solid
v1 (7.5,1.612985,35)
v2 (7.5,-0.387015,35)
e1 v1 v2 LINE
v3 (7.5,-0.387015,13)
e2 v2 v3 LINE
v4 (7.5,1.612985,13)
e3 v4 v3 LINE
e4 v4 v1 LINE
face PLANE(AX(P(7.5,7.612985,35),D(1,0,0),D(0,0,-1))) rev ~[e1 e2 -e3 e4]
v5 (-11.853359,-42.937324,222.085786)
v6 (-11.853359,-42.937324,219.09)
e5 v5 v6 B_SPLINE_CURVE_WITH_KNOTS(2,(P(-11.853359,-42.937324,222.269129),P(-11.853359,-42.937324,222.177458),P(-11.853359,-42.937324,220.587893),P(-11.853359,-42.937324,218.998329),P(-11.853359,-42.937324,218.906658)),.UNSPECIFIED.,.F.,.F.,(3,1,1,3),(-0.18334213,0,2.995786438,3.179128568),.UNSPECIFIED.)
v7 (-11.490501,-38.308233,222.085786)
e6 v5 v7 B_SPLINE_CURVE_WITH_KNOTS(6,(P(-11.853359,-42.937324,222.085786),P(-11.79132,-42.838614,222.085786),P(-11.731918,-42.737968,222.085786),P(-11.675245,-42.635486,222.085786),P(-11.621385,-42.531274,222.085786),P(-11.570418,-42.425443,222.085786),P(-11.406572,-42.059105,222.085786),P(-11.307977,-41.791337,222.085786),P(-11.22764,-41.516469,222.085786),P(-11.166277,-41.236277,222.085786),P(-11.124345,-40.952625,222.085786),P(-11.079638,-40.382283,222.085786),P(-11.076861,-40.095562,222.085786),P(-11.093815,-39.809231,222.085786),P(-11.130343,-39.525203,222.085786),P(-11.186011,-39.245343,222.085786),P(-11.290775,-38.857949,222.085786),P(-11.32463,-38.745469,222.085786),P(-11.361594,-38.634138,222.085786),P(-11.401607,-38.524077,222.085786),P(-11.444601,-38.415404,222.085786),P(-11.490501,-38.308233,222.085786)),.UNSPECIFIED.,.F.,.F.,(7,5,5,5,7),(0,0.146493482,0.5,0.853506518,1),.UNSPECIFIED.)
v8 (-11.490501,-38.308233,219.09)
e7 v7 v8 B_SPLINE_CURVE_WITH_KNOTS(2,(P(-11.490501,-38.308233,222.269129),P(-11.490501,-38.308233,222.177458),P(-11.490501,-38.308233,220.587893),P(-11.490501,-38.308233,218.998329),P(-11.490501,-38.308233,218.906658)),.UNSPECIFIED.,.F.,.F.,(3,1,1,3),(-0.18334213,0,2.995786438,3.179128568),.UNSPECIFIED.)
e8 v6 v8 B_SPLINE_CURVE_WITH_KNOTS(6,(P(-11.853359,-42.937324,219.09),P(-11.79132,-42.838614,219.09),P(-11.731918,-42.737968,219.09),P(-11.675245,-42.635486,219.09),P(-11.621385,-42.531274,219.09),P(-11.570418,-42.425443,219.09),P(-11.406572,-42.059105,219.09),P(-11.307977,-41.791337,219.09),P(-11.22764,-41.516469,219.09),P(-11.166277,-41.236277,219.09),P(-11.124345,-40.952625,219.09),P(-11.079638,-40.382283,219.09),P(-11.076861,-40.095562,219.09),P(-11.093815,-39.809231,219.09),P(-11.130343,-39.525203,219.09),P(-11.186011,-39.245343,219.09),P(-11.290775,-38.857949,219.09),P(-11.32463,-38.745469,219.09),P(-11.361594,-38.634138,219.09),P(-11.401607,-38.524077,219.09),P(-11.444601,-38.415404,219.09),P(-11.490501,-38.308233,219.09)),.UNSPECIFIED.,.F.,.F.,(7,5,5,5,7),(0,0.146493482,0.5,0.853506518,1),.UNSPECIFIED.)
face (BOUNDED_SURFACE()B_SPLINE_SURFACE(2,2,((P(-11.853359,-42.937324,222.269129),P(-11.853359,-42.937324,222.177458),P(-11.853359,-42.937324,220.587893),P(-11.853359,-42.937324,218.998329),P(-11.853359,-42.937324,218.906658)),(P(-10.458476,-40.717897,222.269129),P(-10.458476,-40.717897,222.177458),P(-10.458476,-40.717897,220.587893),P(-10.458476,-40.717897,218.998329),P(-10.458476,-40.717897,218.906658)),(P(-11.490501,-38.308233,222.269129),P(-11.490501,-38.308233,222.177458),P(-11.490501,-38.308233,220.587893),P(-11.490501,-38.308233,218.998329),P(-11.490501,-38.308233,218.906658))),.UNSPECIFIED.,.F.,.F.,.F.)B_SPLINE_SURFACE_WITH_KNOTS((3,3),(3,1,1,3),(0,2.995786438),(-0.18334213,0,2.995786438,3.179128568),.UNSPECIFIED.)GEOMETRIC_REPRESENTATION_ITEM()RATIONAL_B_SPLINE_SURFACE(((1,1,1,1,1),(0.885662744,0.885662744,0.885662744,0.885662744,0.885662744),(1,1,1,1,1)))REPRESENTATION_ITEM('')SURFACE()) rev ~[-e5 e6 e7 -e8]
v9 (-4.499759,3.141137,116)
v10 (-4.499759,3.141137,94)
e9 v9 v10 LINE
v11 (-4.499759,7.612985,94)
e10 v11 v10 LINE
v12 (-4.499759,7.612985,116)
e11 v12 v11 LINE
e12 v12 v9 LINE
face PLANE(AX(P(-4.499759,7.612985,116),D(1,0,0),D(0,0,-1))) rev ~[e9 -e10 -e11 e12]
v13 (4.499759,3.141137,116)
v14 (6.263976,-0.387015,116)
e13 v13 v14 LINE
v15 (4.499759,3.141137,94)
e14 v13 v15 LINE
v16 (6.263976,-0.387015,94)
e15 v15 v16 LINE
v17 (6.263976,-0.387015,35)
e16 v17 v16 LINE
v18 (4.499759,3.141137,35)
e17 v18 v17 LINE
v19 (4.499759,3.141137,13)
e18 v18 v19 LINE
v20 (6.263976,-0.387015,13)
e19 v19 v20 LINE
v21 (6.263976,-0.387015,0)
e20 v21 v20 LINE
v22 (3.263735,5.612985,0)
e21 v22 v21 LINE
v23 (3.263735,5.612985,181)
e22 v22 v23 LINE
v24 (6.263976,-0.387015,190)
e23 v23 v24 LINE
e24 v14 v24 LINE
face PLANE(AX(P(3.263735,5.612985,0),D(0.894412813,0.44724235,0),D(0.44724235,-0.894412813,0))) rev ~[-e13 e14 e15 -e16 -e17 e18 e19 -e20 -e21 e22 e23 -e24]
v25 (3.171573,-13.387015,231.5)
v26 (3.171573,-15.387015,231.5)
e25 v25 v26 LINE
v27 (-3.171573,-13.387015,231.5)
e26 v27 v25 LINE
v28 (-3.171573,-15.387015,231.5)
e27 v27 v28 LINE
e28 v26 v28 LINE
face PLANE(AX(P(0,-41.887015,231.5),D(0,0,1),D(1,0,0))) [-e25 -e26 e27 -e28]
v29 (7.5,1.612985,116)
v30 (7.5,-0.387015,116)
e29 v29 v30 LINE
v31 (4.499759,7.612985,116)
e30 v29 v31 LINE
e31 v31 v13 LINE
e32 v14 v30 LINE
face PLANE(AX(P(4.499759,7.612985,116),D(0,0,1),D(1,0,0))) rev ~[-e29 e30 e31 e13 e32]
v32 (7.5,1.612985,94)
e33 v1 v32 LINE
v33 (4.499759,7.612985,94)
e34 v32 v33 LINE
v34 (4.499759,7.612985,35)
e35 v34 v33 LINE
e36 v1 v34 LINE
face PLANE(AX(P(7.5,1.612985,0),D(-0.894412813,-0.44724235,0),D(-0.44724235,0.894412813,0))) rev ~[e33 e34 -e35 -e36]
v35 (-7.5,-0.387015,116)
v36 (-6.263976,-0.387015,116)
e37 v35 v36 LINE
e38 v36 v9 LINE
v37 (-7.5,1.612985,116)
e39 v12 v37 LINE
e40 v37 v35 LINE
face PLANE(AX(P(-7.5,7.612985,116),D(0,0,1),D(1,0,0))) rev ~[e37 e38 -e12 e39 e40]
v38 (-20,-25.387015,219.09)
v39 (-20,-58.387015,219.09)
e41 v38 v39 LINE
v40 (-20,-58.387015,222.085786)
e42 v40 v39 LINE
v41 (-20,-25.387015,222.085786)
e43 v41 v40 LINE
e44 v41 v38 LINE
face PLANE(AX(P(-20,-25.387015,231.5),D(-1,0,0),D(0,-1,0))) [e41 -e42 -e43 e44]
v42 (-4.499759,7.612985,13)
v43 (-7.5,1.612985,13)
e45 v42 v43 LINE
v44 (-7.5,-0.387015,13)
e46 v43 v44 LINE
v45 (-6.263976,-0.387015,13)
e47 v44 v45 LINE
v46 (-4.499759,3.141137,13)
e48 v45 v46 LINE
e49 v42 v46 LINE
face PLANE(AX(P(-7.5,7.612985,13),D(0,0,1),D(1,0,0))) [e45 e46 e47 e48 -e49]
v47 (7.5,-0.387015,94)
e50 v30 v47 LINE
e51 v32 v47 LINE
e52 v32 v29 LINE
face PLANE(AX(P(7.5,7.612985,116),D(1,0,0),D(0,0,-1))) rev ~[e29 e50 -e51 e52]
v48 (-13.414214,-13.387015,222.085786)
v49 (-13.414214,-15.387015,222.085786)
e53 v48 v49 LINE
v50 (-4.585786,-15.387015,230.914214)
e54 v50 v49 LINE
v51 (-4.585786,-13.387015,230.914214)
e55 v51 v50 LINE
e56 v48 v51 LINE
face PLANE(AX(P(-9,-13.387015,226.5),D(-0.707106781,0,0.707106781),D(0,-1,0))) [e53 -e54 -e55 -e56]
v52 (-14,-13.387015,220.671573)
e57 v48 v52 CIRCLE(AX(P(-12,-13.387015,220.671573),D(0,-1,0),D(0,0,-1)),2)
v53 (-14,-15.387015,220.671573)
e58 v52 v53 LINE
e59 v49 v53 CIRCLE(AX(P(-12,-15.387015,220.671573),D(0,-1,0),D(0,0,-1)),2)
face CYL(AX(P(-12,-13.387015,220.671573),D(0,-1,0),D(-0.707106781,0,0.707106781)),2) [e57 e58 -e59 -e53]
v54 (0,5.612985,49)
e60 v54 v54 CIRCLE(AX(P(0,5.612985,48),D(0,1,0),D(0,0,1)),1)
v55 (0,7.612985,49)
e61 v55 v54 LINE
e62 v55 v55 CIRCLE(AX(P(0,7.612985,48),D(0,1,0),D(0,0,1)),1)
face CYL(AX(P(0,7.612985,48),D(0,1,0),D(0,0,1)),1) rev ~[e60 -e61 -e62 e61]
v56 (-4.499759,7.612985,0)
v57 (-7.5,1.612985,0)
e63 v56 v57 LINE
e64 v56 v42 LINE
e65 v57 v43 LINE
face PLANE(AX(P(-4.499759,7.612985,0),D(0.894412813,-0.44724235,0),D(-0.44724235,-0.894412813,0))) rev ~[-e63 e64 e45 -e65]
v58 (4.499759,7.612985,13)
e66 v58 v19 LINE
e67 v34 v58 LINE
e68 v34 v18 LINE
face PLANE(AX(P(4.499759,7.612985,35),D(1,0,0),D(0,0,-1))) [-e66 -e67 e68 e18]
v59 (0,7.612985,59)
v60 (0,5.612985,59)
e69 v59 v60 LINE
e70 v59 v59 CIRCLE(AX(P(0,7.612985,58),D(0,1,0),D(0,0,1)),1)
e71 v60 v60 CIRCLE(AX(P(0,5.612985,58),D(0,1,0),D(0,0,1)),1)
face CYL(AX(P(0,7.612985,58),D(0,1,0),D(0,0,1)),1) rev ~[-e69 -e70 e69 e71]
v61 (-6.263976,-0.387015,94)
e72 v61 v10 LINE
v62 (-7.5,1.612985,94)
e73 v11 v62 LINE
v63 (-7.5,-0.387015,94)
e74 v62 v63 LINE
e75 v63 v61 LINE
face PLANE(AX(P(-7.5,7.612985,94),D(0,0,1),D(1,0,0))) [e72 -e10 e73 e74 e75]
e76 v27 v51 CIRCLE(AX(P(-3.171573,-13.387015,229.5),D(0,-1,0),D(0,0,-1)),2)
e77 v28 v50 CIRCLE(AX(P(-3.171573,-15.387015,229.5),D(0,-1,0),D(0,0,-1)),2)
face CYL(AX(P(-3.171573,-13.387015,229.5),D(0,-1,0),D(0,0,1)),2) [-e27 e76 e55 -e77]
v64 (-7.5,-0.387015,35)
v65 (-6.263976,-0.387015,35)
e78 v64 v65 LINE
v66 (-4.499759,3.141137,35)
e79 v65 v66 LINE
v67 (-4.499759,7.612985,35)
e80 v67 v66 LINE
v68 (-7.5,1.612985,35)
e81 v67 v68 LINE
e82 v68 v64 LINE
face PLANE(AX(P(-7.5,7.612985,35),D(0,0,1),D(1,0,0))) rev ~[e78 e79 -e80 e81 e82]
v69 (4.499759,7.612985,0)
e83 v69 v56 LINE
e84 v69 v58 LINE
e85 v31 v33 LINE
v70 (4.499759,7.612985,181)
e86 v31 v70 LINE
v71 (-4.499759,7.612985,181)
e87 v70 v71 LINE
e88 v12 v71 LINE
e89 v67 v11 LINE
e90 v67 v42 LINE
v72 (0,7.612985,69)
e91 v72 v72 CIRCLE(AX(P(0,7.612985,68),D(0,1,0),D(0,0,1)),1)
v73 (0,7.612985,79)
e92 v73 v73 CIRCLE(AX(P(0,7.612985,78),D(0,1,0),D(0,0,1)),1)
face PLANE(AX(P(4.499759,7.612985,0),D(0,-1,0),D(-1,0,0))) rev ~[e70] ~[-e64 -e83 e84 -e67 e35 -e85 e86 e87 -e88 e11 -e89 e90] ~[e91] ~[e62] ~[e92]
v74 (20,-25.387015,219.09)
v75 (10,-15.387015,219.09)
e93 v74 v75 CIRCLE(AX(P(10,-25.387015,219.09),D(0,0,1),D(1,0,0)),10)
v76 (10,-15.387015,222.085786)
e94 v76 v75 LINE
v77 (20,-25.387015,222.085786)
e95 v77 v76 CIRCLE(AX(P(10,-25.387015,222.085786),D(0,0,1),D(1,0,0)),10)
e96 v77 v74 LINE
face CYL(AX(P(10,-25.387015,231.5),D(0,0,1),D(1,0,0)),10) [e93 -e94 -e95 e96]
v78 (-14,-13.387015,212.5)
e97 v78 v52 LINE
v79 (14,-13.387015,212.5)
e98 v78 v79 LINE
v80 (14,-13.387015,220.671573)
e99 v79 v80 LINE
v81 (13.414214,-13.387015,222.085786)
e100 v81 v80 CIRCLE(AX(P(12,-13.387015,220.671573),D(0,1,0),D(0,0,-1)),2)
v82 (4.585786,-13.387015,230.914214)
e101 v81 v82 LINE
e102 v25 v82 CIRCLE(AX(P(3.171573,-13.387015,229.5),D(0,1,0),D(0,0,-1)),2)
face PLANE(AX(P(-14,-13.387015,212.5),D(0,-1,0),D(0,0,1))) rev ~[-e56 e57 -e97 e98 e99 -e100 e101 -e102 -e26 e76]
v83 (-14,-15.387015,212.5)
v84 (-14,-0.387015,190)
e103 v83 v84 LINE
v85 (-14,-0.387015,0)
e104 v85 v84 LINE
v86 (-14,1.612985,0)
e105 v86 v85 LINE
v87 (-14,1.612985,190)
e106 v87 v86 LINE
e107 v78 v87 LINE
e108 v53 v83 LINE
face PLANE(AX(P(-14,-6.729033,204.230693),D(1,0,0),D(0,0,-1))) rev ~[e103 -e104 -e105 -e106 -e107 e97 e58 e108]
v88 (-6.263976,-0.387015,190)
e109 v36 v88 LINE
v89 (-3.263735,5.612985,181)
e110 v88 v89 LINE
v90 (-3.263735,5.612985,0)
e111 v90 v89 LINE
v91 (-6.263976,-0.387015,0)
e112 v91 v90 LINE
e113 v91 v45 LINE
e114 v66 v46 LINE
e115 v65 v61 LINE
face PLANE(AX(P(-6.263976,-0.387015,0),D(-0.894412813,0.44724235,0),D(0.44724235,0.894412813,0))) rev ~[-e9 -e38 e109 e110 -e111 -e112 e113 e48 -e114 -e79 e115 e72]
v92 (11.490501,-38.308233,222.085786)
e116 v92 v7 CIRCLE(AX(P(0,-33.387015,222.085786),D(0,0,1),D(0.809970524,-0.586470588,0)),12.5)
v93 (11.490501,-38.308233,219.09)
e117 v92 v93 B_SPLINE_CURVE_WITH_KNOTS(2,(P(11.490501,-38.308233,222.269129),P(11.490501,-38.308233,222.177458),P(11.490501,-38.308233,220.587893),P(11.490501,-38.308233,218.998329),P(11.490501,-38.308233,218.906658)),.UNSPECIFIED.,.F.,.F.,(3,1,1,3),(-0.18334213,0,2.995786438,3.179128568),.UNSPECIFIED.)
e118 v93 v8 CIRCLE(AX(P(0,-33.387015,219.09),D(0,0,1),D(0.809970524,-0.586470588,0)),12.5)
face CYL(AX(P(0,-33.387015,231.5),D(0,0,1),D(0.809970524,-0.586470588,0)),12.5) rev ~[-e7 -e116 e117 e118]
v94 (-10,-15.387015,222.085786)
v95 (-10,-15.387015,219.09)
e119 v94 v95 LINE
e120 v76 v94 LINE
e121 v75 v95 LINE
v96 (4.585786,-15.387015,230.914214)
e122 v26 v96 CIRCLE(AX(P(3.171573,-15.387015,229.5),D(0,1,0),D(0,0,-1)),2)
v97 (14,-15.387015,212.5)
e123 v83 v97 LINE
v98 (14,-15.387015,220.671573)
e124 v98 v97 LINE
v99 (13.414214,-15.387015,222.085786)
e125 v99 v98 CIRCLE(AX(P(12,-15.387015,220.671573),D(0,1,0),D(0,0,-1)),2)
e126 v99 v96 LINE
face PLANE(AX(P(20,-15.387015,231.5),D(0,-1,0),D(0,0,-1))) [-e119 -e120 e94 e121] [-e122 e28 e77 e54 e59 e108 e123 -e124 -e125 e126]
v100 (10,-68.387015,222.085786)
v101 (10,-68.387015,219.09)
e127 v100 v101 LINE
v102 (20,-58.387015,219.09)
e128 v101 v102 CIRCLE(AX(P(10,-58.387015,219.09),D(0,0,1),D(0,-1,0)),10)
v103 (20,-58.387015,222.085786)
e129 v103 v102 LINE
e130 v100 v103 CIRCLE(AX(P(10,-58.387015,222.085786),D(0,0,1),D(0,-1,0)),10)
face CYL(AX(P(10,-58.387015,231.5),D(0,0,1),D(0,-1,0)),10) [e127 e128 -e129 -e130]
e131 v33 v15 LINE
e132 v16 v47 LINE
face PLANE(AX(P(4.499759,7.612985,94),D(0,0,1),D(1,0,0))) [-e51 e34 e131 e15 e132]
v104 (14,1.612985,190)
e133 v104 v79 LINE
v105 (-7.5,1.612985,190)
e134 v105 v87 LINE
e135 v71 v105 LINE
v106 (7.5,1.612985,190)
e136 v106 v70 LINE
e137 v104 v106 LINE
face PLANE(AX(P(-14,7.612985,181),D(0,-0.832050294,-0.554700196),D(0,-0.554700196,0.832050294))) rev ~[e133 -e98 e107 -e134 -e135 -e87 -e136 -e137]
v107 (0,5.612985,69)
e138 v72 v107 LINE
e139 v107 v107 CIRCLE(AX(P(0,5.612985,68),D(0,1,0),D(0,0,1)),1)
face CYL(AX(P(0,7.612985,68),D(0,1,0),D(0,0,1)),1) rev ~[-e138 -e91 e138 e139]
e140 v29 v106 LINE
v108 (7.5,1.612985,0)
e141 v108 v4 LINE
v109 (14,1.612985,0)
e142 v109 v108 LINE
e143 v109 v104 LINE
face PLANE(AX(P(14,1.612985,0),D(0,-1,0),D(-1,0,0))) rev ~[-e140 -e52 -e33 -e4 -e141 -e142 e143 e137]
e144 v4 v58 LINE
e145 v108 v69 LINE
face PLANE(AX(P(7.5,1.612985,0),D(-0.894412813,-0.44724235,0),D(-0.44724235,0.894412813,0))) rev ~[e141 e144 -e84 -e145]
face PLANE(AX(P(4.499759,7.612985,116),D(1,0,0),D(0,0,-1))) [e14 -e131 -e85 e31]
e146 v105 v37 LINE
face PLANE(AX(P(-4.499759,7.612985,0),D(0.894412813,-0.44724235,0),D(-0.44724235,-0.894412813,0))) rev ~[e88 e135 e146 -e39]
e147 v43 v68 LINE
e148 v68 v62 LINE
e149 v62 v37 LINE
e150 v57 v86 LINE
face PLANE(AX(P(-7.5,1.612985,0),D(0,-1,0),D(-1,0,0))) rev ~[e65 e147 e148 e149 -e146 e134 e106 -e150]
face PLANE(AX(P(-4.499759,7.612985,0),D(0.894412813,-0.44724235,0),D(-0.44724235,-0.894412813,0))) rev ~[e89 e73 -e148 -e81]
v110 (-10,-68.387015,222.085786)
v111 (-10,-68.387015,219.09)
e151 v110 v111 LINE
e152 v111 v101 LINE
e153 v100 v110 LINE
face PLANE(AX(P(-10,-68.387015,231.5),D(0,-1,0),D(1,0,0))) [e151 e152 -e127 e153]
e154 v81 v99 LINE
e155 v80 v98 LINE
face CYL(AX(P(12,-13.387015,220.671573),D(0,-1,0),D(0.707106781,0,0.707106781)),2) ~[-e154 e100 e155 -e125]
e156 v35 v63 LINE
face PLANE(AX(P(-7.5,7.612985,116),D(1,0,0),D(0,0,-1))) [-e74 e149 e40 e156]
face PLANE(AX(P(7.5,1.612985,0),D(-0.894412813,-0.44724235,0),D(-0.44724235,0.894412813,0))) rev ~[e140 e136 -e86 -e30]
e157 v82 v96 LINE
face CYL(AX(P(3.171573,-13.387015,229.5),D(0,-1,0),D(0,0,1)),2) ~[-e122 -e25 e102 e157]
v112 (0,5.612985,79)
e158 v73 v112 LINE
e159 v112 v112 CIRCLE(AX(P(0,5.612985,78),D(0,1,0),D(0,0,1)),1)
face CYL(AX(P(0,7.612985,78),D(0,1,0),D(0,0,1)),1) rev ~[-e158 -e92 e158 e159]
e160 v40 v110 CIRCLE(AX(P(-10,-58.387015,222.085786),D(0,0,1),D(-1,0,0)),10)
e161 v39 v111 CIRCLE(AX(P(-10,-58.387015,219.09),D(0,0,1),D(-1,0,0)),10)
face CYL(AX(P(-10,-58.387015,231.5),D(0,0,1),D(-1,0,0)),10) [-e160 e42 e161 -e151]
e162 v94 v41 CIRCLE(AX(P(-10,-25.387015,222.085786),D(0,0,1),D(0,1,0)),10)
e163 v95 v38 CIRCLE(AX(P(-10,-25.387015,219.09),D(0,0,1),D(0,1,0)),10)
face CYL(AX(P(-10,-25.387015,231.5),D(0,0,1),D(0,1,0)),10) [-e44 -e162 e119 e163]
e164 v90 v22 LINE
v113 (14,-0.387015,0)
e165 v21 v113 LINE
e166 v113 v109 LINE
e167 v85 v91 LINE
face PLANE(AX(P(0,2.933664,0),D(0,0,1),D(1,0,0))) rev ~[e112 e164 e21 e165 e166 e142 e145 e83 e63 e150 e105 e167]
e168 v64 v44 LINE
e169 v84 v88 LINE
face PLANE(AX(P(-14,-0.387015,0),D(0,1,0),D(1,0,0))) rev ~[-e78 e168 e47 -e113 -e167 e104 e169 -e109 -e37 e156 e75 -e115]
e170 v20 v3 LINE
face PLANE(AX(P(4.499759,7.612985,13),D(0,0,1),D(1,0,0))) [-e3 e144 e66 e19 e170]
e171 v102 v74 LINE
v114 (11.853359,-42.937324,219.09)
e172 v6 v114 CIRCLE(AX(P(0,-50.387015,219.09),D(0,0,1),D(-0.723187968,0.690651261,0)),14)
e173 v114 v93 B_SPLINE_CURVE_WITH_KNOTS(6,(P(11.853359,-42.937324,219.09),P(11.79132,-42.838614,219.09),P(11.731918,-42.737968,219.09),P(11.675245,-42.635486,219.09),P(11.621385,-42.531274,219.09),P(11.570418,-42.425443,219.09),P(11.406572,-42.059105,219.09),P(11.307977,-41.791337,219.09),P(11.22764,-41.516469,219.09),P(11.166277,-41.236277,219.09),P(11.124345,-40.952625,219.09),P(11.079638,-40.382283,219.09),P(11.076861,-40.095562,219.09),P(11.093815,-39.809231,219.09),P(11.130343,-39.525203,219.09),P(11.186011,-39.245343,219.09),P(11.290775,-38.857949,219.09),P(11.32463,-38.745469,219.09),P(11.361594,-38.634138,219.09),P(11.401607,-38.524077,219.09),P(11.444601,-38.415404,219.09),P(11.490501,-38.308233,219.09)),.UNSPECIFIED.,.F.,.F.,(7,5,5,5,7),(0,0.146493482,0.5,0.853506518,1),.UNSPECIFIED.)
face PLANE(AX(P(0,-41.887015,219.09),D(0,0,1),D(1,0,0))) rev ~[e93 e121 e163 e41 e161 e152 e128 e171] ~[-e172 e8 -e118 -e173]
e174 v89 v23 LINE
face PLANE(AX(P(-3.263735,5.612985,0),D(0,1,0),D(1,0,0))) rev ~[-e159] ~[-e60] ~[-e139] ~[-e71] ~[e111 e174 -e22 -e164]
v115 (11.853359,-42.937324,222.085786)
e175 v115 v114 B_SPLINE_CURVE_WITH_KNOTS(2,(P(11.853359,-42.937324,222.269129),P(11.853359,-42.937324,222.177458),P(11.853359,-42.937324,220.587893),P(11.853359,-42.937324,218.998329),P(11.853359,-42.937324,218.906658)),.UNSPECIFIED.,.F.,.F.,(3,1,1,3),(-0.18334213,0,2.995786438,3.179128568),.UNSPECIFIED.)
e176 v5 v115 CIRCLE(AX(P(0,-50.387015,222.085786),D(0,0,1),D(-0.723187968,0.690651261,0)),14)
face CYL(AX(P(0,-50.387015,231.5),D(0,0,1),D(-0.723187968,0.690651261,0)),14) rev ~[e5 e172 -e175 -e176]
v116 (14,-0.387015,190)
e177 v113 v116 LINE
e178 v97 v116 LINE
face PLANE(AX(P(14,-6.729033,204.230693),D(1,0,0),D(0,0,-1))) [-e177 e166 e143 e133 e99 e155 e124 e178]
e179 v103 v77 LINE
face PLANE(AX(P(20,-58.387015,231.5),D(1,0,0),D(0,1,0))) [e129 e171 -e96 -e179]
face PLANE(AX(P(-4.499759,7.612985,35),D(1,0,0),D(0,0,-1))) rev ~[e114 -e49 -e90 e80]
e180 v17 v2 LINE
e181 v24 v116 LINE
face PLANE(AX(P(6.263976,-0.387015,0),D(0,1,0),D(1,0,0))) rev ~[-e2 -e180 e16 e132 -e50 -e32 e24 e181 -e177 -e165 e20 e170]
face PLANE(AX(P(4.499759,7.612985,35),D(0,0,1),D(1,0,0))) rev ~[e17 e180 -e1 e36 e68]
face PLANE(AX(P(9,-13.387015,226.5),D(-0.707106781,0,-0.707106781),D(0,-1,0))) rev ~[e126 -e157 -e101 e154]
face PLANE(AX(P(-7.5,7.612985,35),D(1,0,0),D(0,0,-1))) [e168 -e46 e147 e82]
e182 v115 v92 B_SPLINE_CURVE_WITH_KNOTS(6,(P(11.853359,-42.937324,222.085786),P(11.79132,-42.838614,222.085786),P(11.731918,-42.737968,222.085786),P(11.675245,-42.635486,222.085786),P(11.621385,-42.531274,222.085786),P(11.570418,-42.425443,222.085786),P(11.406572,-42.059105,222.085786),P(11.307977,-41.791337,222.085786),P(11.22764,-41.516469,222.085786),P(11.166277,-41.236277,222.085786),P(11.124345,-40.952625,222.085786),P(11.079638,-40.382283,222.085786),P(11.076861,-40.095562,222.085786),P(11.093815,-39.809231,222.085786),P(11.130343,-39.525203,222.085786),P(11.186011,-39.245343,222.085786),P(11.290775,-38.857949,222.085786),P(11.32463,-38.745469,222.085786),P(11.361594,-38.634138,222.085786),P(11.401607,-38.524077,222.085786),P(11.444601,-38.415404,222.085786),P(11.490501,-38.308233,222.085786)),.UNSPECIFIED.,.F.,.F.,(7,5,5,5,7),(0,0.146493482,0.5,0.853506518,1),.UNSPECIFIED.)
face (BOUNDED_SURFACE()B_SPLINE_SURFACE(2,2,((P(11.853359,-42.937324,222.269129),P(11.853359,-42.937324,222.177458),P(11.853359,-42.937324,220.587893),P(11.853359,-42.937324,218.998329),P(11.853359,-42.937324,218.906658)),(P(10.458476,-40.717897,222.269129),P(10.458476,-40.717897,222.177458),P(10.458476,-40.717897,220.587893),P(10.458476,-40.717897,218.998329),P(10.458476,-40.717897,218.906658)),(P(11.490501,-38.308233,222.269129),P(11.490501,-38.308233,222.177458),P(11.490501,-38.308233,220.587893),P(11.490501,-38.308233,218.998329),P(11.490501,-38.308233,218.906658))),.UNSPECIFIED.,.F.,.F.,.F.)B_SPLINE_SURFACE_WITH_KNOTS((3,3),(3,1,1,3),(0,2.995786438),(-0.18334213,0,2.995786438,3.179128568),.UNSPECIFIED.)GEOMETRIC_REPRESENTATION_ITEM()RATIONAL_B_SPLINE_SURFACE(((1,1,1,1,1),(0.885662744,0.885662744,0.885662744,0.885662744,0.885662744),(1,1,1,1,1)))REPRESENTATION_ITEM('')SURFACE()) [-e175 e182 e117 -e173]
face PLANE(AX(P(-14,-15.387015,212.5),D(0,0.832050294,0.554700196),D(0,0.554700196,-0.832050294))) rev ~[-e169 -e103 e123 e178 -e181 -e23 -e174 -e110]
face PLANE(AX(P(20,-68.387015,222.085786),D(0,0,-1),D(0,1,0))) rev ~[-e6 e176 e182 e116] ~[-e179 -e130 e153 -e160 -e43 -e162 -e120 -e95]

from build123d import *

# Parameters (mm, degrees)
BOSS_EXTRUDE1_DEPTH      = 190
SKETCH3_R                = 1
CUT_EXTRUDE1_DEPTH       = 191.682982985
SKETCH4_W                = 3.000241119
SKETCH4_H                = 22
CUT_EXTRUDE2_DEPTH       = 191.682982985
BOSS_EXTRUDE2_DEPTH      = 14
BOSS_EXTRUDE2_DEPTH_BACK = 14
CHAMFER1_SIZE            = 10
FILLET1_R                = 2
BOSS_EXTRUDE3_DEPTH      = 12.41
SKETCH8_W                = 9.414213562
SKETCH8_H                = 53
CUT_EXTRUDE3_DEPTH       = 245.681494555
CUT_EXTRUDE4_DEPTH       = 244.772504146
CUT_EXTRUDE5_DEPTH       = 243.216914722
FILLET2_R                = 5


with BuildPart() as part:
    # Sketch2 → Boss-Extrude1 (new body)
    with BuildSketch(Plane.XY):
        Polygon((-14, -0.387014685), (-6.26397645, -0.387014685), (-3.263735331, 5.612985315), (3.263735331, 5.612985315), (6.26397645, -0.387014685), (14, -0.387014685), (14, 1.612985315), (7.5, 1.612985315), (4.499758881, 7.612985315), (-4.499758881, 7.612985315), (-7.5, 1.612985315), (-14, 1.612985315), align=None)
    extrude(amount=BOSS_EXTRUDE1_DEPTH)

    # Sketch3 → Cut-Extrude1 (cut, through all)
    with BuildSketch(Plane(origin=(0, 7.612985315, 0), x_dir=(1, 0, 0), z_dir=(0, 1, 0))):
        with Locations(Location((0, -48, 0), (0, 0, 270))):
            Circle(SKETCH3_R)
        with Locations(Location((0, -58, 0), (0, 0, 270))):
            Circle(SKETCH3_R)
        with Locations(Location((0, -68, 0), (0, 0, 270))):
            Circle(SKETCH3_R)
        with Locations(Location((0, -78, 0), (0, 0, 270))):
            Circle(SKETCH3_R)
    extrude(amount=-CUT_EXTRUDE1_DEPTH, mode=Mode.SUBTRACT)

    # Sketch4 → Cut-Extrude2 (cut, through all)
    with BuildSketch(Plane(origin=(0, 7.612985315, 0), x_dir=(1, 0, 0), z_dir=(0, 1, 0))):
        with Locations((-5.999879441, -24)):
            Rectangle(SKETCH4_W, SKETCH4_H)
        with Locations((-5.999879441, -105)):
            Rectangle(SKETCH4_W, SKETCH4_H)
        with Locations((5.999879441, -105)):
            Rectangle(SKETCH4_W, SKETCH4_H)
        with Locations((5.999879441, -24)):
            Rectangle(SKETCH4_W, SKETCH4_H)
    extrude(amount=-CUT_EXTRUDE2_DEPTH, mode=Mode.SUBTRACT)

    # Sketch5 → Boss-Extrude2 (add, two sides: drawn at the far end of the back side and taken through both)
    with BuildSketch(Plane(origin=(0, 0, 0), x_dir=(0, 0, -1), z_dir=(1, 0, 0)).offset(-BOSS_EXTRUDE2_DEPTH_BACK)):
        Polygon((-231.5, -15.387014685), (-212.5, -15.387014685), (-190, -0.387014685), (-178, 7.612985315), (-181, 7.612985315), (-190, 1.612985315), (-212.5, -13.387014685), (-231.5, -13.387014685), align=None)
    extrude(amount=BOSS_EXTRUDE2_DEPTH + BOSS_EXTRUDE2_DEPTH_BACK)

    # Chamfer1
    chamfer1_edges = [part.edges().sort_by_distance(p)[0] for p in [
        (14, -14.387014685, 231.5),
        (-14, -14.387014685, 231.5),
    ]]
    chamfer(chamfer1_edges, length=CHAMFER1_SIZE)

    # Fillet1
    fillet1_edges = [part.edges().sort_by_distance(p)[0] for p in [
        (4, -14.387014685, 231.5),
        (-4, -14.387014685, 231.5),
        (-14, -14.387014685, 221.5),
        (14, -14.387014685, 221.5),
    ]]
    fillet(fillet1_edges, radius=FILLET1_R)

    # Sketch7 → Boss-Extrude3 (add)
    with BuildSketch(Plane.XY.offset(231.5)):
        with BuildLine():
            Line((-10, -68.387014685), (10, -68.387014685))
            ThreePointArc((10, -68.387014685), (17.071067812, -65.458082497), (20, -58.387014685))
            Line((20, -58.387014685), (20, -25.387014685))
            ThreePointArc((20, -25.387014685), (17.071067812, -18.315946873), (10, -15.387014685))
            Line((10, -15.387014685), (-10, -15.387014685))
            ThreePointArc((-10, -15.387014685), (-17.071067812, -18.315946873), (-20, -25.387014685))
            Line((-20, -25.387014685), (-20, -58.387014685))
            ThreePointArc((-20, -58.387014685), (-17.071067812, -65.458082497), (-10, -68.387014685))
        make_face()
        with BuildLine():
            ThreePointArc((10.124631545, -40.717897038), (0, -20.887014685), (-10.124631545, -40.717897038))
            ThreePointArc((-10.124631545, -40.717897038), (0, -64.387014685), (10.124631545, -40.717897038))
        make_face(mode=Mode.SUBTRACT)
    extrude(amount=-BOSS_EXTRUDE3_DEPTH)

    # Sketch8 → Cut-Extrude3 (cut, through all)
    with BuildSketch(Plane(origin=(20, 0, 0), x_dir=(0, 0, -1), z_dir=(1, 0, 0))):
        with Locations((-226.792893219, -41.887014685)):
            Rectangle(SKETCH8_W, SKETCH8_H)
    extrude(amount=-CUT_EXTRUDE3_DEPTH, mode=Mode.SUBTRACT)

    # Sketch9 → Cut-Extrude4 (cut, through all)
    with BuildSketch(Plane(origin=(14, 0, 0), x_dir=(0, 0, -1), z_dir=(1, 0, 0))):
        Polygon((-190, 1.612985315), (-190, 7.612985315), (-181, 7.612985315), align=None)
    extrude(amount=-CUT_EXTRUDE4_DEPTH, mode=Mode.SUBTRACT)

    # Sketch11 → Cut-Extrude5 (cut, through all)
    with BuildSketch(Plane(origin=(0, 0, 0), x_dir=(-1, 0, 0), z_dir=(0, 0, -1))):
        Polygon((14, 7.612985315), (4.499758881, 7.612985315), (7.5, 1.612985315), (14, 1.612985315), align=None)
        Polygon((-14, 1.612985315), (-7.5, 1.612985315), (-4.499758881, 7.612985315), (-14, 7.612985315), align=None)
    extrude(amount=-CUT_EXTRUDE5_DEPTH, mode=Mode.SUBTRACT)

    # Fillet2
    fillet2_edges = [part.edges().sort_by_distance(p)[0] for p in [
        (-10.124631545, -40.717897038, 220.587893219),
        (10.124631545, -40.717897038, 220.587893219),
    ]]
    fillet(fillet2_edges, radius=FILLET2_R)


solid = part.part
